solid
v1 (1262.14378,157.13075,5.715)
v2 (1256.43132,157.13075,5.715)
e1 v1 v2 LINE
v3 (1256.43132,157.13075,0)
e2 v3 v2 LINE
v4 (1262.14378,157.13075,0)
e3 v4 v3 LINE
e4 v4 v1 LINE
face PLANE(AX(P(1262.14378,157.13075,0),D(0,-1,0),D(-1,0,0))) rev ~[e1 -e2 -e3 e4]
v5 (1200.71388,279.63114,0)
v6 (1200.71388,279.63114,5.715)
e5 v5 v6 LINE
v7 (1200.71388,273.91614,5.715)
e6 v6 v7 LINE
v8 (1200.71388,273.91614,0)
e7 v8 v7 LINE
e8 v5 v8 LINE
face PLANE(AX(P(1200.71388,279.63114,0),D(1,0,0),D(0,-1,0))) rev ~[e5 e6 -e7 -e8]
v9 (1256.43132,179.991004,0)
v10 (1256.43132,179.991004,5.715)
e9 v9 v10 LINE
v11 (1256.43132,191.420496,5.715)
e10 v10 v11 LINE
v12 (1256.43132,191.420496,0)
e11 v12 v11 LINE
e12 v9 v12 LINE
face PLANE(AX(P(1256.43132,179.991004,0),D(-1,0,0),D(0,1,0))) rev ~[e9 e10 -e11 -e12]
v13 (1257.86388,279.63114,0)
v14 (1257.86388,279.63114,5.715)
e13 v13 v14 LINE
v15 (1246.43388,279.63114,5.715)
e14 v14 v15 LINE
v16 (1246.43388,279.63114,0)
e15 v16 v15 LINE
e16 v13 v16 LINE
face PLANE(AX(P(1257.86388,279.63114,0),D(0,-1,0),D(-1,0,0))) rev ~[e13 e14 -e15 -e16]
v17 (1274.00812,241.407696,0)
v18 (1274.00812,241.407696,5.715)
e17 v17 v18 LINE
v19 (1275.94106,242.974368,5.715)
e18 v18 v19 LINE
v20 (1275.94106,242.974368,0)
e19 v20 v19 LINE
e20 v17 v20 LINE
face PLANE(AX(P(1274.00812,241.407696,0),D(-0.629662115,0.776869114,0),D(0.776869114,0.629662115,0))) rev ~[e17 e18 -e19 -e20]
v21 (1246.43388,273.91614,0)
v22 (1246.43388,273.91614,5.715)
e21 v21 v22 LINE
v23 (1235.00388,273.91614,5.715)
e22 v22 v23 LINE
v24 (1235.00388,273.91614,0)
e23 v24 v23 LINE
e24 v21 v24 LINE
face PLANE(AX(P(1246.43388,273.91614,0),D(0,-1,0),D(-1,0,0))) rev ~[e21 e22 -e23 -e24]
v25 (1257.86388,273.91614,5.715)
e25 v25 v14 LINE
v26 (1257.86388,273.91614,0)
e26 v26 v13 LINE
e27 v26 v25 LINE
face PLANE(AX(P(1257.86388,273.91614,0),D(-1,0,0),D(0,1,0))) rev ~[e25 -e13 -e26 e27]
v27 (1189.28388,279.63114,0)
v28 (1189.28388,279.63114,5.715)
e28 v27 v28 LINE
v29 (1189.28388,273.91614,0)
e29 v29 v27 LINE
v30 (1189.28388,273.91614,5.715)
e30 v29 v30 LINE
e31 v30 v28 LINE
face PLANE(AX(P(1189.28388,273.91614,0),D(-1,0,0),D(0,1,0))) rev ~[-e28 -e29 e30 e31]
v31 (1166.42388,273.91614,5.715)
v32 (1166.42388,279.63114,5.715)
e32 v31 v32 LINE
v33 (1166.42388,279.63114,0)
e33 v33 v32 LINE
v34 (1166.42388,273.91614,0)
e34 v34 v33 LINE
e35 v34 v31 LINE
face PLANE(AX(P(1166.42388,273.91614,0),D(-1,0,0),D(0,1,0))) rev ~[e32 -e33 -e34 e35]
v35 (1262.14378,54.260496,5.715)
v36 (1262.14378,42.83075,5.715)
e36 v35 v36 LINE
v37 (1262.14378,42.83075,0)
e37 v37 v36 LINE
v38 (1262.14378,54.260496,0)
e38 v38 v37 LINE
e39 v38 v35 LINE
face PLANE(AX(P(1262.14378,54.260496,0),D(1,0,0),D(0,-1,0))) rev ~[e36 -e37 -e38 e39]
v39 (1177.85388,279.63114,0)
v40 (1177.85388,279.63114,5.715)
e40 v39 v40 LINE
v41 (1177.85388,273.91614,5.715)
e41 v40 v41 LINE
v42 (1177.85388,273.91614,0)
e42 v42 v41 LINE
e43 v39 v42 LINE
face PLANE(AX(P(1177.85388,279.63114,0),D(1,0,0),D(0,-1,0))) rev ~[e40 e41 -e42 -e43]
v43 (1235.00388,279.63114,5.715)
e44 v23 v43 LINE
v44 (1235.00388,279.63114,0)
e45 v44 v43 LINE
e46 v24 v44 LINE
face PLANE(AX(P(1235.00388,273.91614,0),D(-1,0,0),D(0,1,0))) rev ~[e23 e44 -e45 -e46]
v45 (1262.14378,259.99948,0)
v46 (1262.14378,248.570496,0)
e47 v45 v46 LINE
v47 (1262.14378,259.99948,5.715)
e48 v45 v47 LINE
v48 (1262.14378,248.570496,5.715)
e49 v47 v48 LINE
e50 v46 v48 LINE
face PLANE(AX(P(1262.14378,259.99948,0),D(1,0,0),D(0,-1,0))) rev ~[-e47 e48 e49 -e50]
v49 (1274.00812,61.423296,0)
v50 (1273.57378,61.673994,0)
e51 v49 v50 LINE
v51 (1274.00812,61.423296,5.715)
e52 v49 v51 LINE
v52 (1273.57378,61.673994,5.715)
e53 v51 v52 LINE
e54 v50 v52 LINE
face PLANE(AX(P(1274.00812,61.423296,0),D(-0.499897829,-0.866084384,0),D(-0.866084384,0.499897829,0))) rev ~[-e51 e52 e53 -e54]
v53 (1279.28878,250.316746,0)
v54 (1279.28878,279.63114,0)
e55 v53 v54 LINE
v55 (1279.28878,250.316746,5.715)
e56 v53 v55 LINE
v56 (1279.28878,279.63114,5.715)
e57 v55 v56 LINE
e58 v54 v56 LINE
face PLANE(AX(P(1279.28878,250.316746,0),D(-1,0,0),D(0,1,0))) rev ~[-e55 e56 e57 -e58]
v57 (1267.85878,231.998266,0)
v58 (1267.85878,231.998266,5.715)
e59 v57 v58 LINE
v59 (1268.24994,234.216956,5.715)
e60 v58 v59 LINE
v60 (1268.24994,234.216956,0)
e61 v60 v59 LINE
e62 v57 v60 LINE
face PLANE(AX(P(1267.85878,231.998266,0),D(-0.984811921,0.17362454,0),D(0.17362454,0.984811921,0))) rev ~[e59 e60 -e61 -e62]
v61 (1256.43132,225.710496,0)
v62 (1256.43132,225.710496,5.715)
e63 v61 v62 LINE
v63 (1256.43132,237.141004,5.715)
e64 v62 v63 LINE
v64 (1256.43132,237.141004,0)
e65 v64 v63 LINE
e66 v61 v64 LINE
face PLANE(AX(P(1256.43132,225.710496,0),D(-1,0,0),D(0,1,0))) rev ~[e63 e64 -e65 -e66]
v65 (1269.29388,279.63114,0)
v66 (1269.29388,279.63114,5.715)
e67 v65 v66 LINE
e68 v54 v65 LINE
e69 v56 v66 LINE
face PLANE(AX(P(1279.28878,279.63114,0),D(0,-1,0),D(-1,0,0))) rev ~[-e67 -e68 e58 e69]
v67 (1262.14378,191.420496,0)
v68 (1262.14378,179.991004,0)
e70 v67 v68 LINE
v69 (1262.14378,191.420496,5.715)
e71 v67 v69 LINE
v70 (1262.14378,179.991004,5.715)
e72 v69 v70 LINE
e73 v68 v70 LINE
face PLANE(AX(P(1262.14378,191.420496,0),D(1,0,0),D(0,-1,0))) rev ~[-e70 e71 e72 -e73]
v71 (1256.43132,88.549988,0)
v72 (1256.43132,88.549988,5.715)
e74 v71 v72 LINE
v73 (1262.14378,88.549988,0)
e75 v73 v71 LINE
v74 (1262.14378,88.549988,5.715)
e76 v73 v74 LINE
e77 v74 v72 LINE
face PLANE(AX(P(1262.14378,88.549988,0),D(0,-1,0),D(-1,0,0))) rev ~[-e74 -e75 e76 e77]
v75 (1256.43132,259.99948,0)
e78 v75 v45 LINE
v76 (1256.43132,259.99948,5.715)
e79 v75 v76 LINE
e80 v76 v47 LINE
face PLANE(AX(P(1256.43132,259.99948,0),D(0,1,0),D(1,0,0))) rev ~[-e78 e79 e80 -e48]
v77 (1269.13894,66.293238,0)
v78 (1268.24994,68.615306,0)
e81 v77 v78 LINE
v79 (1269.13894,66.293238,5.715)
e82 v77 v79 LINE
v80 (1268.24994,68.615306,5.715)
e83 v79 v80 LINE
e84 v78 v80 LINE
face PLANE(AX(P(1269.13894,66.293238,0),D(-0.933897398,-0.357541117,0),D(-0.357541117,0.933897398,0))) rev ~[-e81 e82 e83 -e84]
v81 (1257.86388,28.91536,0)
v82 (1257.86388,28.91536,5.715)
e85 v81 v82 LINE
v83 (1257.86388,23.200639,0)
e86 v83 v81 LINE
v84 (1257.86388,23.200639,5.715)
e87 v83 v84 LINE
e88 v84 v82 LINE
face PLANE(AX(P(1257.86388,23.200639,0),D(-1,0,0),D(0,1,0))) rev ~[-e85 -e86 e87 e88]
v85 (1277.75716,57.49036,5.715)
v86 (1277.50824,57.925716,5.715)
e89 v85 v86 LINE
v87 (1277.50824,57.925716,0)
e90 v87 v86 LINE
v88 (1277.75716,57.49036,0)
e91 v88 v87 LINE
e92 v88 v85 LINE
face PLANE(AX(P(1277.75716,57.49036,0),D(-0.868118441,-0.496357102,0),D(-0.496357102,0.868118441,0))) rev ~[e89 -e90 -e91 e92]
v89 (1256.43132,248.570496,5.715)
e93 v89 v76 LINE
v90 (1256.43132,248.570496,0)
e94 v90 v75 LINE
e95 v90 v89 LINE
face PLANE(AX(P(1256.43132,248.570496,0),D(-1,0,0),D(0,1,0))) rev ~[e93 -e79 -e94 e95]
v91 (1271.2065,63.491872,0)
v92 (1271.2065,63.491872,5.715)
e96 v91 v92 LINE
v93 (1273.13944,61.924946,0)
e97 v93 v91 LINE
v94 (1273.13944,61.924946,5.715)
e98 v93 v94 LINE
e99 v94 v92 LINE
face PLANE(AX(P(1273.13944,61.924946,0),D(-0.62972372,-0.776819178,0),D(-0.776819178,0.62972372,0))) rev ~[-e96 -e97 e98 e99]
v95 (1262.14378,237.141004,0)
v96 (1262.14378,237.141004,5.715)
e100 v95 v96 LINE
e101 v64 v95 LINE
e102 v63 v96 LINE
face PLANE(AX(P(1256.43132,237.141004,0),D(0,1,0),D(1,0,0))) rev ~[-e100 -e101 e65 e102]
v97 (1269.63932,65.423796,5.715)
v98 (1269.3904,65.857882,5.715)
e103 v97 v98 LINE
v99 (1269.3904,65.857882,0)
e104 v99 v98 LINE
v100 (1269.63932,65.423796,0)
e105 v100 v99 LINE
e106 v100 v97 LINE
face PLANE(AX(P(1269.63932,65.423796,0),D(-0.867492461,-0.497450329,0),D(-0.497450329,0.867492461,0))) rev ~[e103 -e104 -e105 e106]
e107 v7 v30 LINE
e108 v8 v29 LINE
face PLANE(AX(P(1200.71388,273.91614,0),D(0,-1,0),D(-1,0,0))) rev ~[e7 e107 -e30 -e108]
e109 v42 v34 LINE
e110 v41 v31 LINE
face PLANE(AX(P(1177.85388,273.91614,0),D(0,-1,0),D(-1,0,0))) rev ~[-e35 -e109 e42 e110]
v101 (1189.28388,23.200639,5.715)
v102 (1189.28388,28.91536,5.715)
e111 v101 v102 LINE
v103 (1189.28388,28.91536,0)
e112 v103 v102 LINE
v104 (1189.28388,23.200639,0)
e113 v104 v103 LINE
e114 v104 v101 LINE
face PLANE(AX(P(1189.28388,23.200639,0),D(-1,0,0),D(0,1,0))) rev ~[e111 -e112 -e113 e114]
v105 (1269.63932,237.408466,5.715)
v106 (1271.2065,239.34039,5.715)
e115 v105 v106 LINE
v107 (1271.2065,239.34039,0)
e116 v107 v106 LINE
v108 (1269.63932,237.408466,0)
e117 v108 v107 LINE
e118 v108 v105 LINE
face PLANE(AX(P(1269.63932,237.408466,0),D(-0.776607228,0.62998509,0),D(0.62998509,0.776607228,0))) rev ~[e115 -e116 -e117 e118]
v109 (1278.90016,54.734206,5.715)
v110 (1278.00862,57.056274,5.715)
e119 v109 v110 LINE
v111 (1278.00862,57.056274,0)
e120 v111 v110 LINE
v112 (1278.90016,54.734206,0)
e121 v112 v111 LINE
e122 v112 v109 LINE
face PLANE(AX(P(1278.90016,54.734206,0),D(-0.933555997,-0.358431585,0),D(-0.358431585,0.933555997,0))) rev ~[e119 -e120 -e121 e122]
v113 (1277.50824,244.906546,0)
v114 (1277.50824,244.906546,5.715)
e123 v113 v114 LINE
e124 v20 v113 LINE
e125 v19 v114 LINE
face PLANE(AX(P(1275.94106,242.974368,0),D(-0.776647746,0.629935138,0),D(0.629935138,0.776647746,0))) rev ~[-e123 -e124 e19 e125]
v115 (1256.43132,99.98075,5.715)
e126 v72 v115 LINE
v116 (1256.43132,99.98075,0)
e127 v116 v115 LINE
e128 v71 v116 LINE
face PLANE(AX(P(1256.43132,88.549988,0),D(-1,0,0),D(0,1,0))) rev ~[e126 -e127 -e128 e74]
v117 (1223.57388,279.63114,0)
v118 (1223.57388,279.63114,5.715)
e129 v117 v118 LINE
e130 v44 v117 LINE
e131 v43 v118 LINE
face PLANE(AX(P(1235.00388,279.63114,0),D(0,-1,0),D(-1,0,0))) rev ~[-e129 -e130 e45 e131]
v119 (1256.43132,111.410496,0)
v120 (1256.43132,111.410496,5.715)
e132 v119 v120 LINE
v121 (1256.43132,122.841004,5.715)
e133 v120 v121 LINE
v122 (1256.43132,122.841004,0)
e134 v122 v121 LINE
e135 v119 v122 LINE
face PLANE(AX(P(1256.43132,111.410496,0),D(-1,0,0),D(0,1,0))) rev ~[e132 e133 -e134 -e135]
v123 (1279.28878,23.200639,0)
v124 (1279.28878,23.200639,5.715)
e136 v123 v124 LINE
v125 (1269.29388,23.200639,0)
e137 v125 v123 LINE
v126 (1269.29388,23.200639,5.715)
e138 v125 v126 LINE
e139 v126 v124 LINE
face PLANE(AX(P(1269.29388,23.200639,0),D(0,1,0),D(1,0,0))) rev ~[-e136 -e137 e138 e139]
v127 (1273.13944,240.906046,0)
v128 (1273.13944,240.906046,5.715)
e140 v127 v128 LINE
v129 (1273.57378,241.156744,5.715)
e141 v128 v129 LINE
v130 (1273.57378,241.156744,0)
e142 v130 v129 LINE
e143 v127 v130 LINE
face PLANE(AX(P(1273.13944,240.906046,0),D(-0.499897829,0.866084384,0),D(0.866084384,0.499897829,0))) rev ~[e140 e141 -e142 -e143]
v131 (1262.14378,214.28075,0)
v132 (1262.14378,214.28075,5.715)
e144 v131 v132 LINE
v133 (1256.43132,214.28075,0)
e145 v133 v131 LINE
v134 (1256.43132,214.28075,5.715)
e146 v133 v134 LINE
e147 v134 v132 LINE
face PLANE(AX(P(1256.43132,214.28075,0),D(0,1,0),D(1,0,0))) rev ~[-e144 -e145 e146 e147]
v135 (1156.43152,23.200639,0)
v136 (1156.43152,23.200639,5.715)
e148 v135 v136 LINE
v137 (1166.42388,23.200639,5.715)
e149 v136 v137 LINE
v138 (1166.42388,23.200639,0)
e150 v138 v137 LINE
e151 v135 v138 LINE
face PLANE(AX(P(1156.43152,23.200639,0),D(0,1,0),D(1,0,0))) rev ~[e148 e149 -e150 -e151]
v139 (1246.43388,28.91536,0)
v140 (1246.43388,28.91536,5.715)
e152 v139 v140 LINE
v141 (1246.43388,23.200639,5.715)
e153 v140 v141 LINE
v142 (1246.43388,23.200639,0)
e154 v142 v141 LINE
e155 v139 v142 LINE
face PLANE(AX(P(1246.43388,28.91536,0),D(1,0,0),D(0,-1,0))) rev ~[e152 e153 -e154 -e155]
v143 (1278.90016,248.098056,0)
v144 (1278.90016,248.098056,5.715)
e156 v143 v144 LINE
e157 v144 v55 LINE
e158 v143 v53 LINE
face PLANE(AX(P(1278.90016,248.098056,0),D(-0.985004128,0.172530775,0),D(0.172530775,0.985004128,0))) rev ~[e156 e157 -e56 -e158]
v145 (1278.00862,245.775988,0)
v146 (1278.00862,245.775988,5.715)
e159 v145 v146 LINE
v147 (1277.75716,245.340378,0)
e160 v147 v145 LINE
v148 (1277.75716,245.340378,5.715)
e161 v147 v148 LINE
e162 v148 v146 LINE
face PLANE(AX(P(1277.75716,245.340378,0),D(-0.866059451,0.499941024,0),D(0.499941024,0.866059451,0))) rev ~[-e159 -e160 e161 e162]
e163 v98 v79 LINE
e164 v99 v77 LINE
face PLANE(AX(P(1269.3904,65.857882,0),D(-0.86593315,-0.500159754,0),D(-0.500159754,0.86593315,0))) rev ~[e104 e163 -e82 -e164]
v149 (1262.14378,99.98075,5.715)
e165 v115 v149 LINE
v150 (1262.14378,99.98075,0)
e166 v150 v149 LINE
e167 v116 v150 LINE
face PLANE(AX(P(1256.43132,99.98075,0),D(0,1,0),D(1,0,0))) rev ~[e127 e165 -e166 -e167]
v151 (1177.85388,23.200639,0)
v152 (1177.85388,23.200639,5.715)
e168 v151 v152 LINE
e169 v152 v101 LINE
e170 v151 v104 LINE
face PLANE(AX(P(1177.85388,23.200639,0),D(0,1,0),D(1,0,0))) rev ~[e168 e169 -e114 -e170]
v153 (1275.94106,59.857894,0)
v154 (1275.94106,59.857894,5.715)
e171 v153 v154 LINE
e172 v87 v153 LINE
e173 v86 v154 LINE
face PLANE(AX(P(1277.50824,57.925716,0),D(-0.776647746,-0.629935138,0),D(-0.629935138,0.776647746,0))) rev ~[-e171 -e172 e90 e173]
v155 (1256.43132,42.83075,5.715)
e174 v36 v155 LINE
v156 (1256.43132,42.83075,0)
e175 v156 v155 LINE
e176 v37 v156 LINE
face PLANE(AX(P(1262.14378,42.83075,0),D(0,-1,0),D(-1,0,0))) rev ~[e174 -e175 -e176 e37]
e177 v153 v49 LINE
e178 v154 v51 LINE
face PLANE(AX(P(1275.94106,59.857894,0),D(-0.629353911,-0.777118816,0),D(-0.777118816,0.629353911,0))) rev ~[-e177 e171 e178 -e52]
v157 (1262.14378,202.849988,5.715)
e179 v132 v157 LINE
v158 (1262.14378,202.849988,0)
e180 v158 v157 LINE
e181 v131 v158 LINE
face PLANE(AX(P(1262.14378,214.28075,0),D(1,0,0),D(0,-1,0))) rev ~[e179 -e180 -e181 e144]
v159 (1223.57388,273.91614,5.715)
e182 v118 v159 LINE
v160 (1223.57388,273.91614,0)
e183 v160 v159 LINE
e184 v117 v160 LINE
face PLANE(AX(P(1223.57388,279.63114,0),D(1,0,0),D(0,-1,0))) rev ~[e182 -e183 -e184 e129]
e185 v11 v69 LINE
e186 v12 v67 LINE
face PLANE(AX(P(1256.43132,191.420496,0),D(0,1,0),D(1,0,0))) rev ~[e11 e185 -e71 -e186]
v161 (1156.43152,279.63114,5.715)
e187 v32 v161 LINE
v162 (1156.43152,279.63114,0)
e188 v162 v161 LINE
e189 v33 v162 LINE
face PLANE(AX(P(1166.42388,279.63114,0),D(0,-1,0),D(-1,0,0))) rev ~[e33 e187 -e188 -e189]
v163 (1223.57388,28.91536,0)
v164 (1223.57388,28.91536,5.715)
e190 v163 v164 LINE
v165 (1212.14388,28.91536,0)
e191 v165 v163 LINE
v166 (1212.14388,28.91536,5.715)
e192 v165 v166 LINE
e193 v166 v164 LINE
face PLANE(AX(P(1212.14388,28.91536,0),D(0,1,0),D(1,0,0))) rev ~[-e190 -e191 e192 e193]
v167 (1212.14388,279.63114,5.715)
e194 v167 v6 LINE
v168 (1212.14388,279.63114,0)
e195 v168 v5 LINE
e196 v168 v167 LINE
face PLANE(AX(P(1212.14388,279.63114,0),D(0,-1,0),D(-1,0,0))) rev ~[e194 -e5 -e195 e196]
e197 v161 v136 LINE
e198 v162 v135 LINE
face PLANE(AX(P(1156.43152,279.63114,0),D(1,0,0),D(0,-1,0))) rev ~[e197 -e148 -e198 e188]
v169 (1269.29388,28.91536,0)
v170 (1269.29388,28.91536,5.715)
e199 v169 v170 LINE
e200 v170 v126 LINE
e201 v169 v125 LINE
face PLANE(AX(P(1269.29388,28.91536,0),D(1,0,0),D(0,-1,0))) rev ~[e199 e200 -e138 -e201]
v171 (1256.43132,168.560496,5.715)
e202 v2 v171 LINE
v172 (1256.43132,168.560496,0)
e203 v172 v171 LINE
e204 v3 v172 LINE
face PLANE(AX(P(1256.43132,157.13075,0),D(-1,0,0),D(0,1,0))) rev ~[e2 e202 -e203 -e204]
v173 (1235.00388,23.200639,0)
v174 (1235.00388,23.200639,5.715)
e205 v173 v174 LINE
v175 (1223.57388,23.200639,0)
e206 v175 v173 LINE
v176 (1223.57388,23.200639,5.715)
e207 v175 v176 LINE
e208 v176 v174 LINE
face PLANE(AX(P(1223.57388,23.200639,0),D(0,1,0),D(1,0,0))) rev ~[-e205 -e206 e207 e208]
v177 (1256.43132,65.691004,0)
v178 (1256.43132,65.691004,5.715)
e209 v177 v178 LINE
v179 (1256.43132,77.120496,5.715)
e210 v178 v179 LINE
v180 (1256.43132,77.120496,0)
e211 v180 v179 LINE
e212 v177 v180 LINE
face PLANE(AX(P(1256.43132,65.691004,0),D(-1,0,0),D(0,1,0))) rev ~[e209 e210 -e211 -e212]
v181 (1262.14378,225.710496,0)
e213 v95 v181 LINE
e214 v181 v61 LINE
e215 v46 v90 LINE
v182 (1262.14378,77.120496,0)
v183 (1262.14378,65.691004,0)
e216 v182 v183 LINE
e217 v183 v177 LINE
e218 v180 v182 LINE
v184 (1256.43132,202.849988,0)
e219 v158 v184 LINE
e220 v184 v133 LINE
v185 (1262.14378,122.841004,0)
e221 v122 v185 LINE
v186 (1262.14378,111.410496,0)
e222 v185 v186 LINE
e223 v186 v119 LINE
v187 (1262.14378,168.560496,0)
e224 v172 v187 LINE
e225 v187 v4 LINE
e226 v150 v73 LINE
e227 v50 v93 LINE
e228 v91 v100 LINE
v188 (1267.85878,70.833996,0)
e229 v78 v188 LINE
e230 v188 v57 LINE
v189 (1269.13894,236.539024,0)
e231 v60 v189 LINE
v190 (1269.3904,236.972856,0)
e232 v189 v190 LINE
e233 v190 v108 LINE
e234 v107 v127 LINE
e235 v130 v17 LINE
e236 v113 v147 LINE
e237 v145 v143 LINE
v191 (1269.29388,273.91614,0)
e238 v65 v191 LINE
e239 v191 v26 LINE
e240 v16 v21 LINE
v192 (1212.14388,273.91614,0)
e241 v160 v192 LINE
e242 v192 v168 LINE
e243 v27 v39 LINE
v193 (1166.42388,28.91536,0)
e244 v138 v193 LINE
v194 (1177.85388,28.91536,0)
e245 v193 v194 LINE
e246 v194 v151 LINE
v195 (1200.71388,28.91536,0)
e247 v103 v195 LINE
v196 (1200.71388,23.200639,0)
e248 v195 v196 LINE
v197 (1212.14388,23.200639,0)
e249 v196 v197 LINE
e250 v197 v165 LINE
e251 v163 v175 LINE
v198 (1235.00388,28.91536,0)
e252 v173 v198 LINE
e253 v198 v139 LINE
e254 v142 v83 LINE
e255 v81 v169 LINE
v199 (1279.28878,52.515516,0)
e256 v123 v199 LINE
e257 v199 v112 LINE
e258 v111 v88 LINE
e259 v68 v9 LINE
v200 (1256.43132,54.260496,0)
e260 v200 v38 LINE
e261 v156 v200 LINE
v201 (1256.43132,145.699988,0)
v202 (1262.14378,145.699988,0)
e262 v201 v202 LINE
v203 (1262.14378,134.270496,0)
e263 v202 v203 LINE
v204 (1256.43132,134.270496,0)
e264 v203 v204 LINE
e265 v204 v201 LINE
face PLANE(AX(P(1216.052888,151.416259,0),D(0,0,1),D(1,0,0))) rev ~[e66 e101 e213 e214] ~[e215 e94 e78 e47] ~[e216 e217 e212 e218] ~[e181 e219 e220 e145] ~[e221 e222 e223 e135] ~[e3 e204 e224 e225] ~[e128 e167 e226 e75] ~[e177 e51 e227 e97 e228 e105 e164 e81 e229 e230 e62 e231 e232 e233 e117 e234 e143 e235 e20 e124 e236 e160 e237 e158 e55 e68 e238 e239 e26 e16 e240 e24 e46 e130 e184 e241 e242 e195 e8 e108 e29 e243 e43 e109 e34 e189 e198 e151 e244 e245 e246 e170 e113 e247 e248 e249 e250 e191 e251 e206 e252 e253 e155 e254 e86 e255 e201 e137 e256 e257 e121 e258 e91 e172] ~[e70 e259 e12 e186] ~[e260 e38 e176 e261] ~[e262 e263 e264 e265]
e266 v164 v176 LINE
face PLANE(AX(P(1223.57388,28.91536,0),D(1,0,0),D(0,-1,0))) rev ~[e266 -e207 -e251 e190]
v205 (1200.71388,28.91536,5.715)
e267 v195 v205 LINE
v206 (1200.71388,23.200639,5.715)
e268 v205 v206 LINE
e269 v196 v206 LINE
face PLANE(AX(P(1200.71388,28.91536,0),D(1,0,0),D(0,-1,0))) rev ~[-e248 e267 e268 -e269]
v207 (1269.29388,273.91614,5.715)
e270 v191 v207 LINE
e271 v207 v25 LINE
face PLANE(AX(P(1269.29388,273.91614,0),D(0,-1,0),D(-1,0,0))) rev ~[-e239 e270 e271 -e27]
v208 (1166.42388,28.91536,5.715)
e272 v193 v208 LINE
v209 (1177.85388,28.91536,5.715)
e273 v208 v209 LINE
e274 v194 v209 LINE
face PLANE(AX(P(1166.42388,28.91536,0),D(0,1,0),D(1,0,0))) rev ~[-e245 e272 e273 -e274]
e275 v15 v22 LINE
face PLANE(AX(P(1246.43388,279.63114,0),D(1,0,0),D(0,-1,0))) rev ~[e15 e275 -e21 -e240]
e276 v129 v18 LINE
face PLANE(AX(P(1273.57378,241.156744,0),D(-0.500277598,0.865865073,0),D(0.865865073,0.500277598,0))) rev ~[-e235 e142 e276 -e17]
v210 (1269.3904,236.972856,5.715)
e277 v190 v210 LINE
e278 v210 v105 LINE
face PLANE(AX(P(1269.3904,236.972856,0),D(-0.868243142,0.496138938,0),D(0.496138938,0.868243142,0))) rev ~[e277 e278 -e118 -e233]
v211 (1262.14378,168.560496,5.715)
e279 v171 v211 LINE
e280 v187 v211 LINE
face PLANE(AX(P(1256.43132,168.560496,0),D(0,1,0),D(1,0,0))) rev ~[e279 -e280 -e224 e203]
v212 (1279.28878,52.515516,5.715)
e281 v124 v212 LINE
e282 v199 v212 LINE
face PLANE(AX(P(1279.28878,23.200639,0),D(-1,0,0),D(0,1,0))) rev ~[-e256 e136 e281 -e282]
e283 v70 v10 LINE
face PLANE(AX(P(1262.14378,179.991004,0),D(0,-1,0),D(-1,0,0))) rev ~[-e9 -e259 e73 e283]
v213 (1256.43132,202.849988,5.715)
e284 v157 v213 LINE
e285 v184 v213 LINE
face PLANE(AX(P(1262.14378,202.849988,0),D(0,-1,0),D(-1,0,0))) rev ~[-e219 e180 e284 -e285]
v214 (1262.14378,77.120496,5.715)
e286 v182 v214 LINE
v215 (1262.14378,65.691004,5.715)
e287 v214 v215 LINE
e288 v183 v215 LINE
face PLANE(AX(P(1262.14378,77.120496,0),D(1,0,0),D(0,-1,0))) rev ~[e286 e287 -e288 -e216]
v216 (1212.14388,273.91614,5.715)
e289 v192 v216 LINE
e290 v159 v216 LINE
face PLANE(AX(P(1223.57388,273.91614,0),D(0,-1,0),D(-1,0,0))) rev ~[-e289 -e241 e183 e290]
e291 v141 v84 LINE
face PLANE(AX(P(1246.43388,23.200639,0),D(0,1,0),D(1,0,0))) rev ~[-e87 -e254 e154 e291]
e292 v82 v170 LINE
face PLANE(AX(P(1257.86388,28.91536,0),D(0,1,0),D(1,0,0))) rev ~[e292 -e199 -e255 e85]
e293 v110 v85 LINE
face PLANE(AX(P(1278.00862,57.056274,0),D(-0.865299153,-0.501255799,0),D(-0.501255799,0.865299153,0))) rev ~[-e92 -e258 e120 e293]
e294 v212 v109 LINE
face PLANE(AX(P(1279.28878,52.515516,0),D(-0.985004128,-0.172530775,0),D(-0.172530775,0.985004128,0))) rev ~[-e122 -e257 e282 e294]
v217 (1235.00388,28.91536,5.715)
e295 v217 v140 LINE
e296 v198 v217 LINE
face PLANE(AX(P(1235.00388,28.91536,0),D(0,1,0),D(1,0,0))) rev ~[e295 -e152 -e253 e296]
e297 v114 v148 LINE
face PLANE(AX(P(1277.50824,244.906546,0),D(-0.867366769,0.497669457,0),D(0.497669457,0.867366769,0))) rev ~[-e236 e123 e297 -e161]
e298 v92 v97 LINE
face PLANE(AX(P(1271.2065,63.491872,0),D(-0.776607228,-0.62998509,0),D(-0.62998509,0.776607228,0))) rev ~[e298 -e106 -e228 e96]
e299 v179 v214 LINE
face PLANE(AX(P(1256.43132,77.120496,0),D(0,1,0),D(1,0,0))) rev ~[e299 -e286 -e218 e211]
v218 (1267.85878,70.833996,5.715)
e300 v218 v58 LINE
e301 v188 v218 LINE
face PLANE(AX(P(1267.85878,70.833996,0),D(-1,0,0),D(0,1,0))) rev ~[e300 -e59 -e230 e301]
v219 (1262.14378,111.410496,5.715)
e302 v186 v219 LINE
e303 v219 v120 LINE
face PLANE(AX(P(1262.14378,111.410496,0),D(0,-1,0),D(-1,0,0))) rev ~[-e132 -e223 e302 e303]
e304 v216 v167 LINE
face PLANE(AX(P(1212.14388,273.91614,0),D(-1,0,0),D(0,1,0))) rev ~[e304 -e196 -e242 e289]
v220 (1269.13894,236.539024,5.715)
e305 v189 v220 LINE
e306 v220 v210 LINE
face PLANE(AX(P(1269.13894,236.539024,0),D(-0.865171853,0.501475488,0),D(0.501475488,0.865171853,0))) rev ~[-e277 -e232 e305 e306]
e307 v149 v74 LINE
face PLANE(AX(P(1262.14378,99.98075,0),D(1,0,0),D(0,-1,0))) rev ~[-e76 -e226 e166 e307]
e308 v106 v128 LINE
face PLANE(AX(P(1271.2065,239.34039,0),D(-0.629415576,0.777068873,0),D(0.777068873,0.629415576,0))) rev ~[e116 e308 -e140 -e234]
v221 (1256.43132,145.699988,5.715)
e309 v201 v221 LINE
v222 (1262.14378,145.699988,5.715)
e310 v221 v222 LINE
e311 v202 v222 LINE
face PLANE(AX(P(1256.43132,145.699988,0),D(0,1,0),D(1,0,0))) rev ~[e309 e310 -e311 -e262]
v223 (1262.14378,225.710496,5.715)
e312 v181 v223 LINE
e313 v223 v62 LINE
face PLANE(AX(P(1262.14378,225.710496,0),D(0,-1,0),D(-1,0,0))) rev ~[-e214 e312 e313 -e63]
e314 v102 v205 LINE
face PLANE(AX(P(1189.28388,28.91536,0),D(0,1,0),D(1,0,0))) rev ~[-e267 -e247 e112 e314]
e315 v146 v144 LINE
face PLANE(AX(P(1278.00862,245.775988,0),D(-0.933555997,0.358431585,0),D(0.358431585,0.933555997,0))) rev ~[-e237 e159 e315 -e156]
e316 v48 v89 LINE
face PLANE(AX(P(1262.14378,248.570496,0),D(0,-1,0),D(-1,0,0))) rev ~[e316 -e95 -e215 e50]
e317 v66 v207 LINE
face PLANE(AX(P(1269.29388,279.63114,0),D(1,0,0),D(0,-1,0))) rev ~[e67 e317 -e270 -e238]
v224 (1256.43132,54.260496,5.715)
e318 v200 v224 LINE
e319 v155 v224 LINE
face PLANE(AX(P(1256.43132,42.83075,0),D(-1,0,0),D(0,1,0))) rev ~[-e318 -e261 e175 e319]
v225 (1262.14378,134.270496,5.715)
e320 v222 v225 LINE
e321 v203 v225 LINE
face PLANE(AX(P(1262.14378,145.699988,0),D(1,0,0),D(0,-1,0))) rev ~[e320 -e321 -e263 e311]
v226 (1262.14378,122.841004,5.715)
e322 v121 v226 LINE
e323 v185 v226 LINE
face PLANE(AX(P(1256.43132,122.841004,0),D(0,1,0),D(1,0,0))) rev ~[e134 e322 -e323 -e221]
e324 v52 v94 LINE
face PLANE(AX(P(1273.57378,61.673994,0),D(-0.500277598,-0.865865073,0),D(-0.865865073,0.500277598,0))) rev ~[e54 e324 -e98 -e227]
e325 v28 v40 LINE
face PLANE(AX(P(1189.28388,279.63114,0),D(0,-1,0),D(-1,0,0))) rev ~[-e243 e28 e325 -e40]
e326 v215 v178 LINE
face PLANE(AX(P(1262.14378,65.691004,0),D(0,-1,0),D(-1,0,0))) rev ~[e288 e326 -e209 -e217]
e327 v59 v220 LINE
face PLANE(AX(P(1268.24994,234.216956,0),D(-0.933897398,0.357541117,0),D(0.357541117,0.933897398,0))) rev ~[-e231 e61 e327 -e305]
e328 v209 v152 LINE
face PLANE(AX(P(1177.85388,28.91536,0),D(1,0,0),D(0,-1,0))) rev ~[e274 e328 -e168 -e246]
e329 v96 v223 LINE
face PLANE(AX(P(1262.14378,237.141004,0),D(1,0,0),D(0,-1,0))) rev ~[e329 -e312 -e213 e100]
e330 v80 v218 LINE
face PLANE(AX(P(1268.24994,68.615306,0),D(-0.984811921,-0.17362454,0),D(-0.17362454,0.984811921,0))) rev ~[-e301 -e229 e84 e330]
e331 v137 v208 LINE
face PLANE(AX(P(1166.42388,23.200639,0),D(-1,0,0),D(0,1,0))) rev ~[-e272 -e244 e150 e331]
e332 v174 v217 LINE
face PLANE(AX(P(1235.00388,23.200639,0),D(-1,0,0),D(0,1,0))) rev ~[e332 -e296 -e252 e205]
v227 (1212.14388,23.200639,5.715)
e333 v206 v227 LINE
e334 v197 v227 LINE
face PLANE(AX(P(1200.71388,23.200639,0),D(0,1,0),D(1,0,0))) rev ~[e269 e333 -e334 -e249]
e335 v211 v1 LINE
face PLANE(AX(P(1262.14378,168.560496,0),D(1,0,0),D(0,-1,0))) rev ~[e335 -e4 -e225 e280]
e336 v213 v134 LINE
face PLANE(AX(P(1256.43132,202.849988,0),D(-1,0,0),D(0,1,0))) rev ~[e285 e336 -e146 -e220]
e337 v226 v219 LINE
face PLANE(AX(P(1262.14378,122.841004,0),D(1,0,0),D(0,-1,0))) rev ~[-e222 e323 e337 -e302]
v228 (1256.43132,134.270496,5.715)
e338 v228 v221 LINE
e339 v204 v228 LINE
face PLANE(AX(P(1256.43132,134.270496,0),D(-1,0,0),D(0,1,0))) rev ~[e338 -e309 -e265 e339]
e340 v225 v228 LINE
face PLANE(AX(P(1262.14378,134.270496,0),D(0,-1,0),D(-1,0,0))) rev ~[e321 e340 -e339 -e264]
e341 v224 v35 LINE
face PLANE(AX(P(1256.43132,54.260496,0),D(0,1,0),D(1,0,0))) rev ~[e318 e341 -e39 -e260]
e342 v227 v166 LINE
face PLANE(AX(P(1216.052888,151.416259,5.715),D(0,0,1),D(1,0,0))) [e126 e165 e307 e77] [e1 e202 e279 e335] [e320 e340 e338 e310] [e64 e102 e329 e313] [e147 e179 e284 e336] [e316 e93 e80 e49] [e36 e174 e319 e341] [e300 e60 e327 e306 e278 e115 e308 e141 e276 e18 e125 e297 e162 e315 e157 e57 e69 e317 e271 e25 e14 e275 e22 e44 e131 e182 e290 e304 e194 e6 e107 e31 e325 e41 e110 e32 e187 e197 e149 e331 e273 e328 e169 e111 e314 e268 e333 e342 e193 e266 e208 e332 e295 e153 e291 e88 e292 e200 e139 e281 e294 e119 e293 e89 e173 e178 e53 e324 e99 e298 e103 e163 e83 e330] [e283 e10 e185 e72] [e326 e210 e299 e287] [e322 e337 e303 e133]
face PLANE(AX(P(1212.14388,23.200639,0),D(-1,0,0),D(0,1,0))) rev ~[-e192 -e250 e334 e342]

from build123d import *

# Parameters (mm, degrees)
BOSS_EXTRUDE1_DEPTH = 5.715


with BuildPart() as part:
    # Model → Boss-Extrude1 (new body)
    with BuildSketch(Plane.XY):
        Polygon((1156.43152, 23.2006394), (1166.42388, 23.2006394), (1166.42388, 28.91536), (1177.85388, 28.91536), (1177.85388, 23.2006394), (1189.28388, 23.2006394), (1189.28388, 28.91536), (1200.71388, 28.91536), (1200.71388, 23.2006394), (1212.14388, 23.2006394), (1212.14388, 28.91536), (1223.57388, 28.91536), (1223.57388, 23.2006394), (1235.00388, 23.2006394), (1235.00388, 28.91536), (1246.43388, 28.91536), (1246.43388, 23.2006394), (1257.86388, 23.2006394), (1257.86388, 28.91536), (1269.29388, 28.91536), (1269.29388, 23.2006394), (1279.28878, 23.2006394), (1279.28878, 51.775868), (1279.28878, 52.515516), (1278.90016, 54.734206), (1278.00862, 57.056274), (1277.75716, 57.49036), (1277.50824, 57.925716), (1275.94106, 59.857894), (1274.00812, 61.423296), (1273.57378, 61.673994), (1273.13944, 61.924946), (1271.2065, 63.491872), (1269.63932, 65.423796), (1269.3904, 65.857882), (1269.13894, 66.293238), (1268.24994, 68.615306), (1267.85878, 70.833996), (1267.85878, 71.572628), (1267.85878, 231.25811), (1267.85878, 231.998266), (1268.24994, 234.216956), (1269.13894, 236.539024), (1269.3904, 236.972856), (1269.63932, 237.408466), (1271.2065, 239.34039), (1273.13944, 240.906046), (1273.57378, 241.156744), (1274.00812, 241.407696), (1275.94106, 242.974368), (1277.50824, 244.906546), (1277.75716, 245.340378), (1278.00862, 245.775988), (1278.90016, 248.098056), (1279.28878, 250.316746), (1279.28878, 251.055124), (1279.28878, 279.63114), (1269.29388, 279.63114), (1269.29388, 273.91614), (1257.86388, 273.91614), (1257.86388, 279.63114), (1246.43388, 279.63114), (1246.43388, 273.91614), (1235.00388, 273.91614), (1235.00388, 279.63114), (1223.57388, 279.63114), (1223.57388, 273.91614), (1212.14388, 273.91614), (1212.14388, 279.63114), (1200.71388, 279.63114), (1200.71388, 273.91614), (1189.28388, 273.91614), (1189.28388, 279.63114), (1177.85388, 279.63114), (1177.85388, 273.91614), (1166.42388, 273.91614), (1166.42388, 279.63114), (1156.43152, 279.63114), align=None)
        Polygon((1262.14378, 48.545496), (1262.14378, 42.83075), (1256.43132, 42.83075), (1256.43132, 54.260496), (1262.14378, 54.260496), align=None, mode=Mode.SUBTRACT)
        Polygon((1262.14378, 71.40575), (1262.14378, 65.691004), (1256.43132, 65.691004), (1256.43132, 77.120496), (1262.14378, 77.120496), align=None, mode=Mode.SUBTRACT)
        Polygon((1262.14378, 94.266004), (1262.14378, 88.549988), (1256.43132, 88.549988), (1256.43132, 99.98075), (1262.14378, 99.98075), align=None, mode=Mode.SUBTRACT)
        Polygon((1262.14378, 117.124988), (1262.14378, 111.410496), (1256.43132, 111.410496), (1256.43132, 122.841004), (1262.14378, 122.841004), align=None, mode=Mode.SUBTRACT)
        Polygon((1262.14378, 139.985496), (1262.14378, 134.270496), (1256.43132, 134.270496), (1256.43132, 145.699988), (1262.14378, 145.699988), align=None, mode=Mode.SUBTRACT)
        Polygon((1262.14378, 162.845496), (1262.14378, 157.13075), (1256.43132, 157.13075), (1256.43132, 168.560496), (1262.14378, 168.560496), align=None, mode=Mode.SUBTRACT)
        Polygon((1262.14378, 185.70575), (1262.14378, 179.991004), (1256.43132, 179.991004), (1256.43132, 191.420496), (1262.14378, 191.420496), align=None, mode=Mode.SUBTRACT)
        Polygon((1262.14378, 208.566004), (1262.14378, 202.849988), (1256.43132, 202.849988), (1256.43132, 214.28075), (1262.14378, 214.28075), align=None, mode=Mode.SUBTRACT)
        Polygon((1262.14378, 231.424988), (1262.14378, 225.710496), (1256.43132, 225.710496), (1256.43132, 237.141004), (1262.14378, 237.141004), align=None, mode=Mode.SUBTRACT)
        Polygon((1262.14378, 254.28448), (1262.14378, 248.570496), (1256.43132, 248.570496), (1256.43132, 259.99948), (1262.14378, 259.99948), align=None, mode=Mode.SUBTRACT)
    extrude(amount=BOSS_EXTRUDE1_DEPTH)


solid = part.part
